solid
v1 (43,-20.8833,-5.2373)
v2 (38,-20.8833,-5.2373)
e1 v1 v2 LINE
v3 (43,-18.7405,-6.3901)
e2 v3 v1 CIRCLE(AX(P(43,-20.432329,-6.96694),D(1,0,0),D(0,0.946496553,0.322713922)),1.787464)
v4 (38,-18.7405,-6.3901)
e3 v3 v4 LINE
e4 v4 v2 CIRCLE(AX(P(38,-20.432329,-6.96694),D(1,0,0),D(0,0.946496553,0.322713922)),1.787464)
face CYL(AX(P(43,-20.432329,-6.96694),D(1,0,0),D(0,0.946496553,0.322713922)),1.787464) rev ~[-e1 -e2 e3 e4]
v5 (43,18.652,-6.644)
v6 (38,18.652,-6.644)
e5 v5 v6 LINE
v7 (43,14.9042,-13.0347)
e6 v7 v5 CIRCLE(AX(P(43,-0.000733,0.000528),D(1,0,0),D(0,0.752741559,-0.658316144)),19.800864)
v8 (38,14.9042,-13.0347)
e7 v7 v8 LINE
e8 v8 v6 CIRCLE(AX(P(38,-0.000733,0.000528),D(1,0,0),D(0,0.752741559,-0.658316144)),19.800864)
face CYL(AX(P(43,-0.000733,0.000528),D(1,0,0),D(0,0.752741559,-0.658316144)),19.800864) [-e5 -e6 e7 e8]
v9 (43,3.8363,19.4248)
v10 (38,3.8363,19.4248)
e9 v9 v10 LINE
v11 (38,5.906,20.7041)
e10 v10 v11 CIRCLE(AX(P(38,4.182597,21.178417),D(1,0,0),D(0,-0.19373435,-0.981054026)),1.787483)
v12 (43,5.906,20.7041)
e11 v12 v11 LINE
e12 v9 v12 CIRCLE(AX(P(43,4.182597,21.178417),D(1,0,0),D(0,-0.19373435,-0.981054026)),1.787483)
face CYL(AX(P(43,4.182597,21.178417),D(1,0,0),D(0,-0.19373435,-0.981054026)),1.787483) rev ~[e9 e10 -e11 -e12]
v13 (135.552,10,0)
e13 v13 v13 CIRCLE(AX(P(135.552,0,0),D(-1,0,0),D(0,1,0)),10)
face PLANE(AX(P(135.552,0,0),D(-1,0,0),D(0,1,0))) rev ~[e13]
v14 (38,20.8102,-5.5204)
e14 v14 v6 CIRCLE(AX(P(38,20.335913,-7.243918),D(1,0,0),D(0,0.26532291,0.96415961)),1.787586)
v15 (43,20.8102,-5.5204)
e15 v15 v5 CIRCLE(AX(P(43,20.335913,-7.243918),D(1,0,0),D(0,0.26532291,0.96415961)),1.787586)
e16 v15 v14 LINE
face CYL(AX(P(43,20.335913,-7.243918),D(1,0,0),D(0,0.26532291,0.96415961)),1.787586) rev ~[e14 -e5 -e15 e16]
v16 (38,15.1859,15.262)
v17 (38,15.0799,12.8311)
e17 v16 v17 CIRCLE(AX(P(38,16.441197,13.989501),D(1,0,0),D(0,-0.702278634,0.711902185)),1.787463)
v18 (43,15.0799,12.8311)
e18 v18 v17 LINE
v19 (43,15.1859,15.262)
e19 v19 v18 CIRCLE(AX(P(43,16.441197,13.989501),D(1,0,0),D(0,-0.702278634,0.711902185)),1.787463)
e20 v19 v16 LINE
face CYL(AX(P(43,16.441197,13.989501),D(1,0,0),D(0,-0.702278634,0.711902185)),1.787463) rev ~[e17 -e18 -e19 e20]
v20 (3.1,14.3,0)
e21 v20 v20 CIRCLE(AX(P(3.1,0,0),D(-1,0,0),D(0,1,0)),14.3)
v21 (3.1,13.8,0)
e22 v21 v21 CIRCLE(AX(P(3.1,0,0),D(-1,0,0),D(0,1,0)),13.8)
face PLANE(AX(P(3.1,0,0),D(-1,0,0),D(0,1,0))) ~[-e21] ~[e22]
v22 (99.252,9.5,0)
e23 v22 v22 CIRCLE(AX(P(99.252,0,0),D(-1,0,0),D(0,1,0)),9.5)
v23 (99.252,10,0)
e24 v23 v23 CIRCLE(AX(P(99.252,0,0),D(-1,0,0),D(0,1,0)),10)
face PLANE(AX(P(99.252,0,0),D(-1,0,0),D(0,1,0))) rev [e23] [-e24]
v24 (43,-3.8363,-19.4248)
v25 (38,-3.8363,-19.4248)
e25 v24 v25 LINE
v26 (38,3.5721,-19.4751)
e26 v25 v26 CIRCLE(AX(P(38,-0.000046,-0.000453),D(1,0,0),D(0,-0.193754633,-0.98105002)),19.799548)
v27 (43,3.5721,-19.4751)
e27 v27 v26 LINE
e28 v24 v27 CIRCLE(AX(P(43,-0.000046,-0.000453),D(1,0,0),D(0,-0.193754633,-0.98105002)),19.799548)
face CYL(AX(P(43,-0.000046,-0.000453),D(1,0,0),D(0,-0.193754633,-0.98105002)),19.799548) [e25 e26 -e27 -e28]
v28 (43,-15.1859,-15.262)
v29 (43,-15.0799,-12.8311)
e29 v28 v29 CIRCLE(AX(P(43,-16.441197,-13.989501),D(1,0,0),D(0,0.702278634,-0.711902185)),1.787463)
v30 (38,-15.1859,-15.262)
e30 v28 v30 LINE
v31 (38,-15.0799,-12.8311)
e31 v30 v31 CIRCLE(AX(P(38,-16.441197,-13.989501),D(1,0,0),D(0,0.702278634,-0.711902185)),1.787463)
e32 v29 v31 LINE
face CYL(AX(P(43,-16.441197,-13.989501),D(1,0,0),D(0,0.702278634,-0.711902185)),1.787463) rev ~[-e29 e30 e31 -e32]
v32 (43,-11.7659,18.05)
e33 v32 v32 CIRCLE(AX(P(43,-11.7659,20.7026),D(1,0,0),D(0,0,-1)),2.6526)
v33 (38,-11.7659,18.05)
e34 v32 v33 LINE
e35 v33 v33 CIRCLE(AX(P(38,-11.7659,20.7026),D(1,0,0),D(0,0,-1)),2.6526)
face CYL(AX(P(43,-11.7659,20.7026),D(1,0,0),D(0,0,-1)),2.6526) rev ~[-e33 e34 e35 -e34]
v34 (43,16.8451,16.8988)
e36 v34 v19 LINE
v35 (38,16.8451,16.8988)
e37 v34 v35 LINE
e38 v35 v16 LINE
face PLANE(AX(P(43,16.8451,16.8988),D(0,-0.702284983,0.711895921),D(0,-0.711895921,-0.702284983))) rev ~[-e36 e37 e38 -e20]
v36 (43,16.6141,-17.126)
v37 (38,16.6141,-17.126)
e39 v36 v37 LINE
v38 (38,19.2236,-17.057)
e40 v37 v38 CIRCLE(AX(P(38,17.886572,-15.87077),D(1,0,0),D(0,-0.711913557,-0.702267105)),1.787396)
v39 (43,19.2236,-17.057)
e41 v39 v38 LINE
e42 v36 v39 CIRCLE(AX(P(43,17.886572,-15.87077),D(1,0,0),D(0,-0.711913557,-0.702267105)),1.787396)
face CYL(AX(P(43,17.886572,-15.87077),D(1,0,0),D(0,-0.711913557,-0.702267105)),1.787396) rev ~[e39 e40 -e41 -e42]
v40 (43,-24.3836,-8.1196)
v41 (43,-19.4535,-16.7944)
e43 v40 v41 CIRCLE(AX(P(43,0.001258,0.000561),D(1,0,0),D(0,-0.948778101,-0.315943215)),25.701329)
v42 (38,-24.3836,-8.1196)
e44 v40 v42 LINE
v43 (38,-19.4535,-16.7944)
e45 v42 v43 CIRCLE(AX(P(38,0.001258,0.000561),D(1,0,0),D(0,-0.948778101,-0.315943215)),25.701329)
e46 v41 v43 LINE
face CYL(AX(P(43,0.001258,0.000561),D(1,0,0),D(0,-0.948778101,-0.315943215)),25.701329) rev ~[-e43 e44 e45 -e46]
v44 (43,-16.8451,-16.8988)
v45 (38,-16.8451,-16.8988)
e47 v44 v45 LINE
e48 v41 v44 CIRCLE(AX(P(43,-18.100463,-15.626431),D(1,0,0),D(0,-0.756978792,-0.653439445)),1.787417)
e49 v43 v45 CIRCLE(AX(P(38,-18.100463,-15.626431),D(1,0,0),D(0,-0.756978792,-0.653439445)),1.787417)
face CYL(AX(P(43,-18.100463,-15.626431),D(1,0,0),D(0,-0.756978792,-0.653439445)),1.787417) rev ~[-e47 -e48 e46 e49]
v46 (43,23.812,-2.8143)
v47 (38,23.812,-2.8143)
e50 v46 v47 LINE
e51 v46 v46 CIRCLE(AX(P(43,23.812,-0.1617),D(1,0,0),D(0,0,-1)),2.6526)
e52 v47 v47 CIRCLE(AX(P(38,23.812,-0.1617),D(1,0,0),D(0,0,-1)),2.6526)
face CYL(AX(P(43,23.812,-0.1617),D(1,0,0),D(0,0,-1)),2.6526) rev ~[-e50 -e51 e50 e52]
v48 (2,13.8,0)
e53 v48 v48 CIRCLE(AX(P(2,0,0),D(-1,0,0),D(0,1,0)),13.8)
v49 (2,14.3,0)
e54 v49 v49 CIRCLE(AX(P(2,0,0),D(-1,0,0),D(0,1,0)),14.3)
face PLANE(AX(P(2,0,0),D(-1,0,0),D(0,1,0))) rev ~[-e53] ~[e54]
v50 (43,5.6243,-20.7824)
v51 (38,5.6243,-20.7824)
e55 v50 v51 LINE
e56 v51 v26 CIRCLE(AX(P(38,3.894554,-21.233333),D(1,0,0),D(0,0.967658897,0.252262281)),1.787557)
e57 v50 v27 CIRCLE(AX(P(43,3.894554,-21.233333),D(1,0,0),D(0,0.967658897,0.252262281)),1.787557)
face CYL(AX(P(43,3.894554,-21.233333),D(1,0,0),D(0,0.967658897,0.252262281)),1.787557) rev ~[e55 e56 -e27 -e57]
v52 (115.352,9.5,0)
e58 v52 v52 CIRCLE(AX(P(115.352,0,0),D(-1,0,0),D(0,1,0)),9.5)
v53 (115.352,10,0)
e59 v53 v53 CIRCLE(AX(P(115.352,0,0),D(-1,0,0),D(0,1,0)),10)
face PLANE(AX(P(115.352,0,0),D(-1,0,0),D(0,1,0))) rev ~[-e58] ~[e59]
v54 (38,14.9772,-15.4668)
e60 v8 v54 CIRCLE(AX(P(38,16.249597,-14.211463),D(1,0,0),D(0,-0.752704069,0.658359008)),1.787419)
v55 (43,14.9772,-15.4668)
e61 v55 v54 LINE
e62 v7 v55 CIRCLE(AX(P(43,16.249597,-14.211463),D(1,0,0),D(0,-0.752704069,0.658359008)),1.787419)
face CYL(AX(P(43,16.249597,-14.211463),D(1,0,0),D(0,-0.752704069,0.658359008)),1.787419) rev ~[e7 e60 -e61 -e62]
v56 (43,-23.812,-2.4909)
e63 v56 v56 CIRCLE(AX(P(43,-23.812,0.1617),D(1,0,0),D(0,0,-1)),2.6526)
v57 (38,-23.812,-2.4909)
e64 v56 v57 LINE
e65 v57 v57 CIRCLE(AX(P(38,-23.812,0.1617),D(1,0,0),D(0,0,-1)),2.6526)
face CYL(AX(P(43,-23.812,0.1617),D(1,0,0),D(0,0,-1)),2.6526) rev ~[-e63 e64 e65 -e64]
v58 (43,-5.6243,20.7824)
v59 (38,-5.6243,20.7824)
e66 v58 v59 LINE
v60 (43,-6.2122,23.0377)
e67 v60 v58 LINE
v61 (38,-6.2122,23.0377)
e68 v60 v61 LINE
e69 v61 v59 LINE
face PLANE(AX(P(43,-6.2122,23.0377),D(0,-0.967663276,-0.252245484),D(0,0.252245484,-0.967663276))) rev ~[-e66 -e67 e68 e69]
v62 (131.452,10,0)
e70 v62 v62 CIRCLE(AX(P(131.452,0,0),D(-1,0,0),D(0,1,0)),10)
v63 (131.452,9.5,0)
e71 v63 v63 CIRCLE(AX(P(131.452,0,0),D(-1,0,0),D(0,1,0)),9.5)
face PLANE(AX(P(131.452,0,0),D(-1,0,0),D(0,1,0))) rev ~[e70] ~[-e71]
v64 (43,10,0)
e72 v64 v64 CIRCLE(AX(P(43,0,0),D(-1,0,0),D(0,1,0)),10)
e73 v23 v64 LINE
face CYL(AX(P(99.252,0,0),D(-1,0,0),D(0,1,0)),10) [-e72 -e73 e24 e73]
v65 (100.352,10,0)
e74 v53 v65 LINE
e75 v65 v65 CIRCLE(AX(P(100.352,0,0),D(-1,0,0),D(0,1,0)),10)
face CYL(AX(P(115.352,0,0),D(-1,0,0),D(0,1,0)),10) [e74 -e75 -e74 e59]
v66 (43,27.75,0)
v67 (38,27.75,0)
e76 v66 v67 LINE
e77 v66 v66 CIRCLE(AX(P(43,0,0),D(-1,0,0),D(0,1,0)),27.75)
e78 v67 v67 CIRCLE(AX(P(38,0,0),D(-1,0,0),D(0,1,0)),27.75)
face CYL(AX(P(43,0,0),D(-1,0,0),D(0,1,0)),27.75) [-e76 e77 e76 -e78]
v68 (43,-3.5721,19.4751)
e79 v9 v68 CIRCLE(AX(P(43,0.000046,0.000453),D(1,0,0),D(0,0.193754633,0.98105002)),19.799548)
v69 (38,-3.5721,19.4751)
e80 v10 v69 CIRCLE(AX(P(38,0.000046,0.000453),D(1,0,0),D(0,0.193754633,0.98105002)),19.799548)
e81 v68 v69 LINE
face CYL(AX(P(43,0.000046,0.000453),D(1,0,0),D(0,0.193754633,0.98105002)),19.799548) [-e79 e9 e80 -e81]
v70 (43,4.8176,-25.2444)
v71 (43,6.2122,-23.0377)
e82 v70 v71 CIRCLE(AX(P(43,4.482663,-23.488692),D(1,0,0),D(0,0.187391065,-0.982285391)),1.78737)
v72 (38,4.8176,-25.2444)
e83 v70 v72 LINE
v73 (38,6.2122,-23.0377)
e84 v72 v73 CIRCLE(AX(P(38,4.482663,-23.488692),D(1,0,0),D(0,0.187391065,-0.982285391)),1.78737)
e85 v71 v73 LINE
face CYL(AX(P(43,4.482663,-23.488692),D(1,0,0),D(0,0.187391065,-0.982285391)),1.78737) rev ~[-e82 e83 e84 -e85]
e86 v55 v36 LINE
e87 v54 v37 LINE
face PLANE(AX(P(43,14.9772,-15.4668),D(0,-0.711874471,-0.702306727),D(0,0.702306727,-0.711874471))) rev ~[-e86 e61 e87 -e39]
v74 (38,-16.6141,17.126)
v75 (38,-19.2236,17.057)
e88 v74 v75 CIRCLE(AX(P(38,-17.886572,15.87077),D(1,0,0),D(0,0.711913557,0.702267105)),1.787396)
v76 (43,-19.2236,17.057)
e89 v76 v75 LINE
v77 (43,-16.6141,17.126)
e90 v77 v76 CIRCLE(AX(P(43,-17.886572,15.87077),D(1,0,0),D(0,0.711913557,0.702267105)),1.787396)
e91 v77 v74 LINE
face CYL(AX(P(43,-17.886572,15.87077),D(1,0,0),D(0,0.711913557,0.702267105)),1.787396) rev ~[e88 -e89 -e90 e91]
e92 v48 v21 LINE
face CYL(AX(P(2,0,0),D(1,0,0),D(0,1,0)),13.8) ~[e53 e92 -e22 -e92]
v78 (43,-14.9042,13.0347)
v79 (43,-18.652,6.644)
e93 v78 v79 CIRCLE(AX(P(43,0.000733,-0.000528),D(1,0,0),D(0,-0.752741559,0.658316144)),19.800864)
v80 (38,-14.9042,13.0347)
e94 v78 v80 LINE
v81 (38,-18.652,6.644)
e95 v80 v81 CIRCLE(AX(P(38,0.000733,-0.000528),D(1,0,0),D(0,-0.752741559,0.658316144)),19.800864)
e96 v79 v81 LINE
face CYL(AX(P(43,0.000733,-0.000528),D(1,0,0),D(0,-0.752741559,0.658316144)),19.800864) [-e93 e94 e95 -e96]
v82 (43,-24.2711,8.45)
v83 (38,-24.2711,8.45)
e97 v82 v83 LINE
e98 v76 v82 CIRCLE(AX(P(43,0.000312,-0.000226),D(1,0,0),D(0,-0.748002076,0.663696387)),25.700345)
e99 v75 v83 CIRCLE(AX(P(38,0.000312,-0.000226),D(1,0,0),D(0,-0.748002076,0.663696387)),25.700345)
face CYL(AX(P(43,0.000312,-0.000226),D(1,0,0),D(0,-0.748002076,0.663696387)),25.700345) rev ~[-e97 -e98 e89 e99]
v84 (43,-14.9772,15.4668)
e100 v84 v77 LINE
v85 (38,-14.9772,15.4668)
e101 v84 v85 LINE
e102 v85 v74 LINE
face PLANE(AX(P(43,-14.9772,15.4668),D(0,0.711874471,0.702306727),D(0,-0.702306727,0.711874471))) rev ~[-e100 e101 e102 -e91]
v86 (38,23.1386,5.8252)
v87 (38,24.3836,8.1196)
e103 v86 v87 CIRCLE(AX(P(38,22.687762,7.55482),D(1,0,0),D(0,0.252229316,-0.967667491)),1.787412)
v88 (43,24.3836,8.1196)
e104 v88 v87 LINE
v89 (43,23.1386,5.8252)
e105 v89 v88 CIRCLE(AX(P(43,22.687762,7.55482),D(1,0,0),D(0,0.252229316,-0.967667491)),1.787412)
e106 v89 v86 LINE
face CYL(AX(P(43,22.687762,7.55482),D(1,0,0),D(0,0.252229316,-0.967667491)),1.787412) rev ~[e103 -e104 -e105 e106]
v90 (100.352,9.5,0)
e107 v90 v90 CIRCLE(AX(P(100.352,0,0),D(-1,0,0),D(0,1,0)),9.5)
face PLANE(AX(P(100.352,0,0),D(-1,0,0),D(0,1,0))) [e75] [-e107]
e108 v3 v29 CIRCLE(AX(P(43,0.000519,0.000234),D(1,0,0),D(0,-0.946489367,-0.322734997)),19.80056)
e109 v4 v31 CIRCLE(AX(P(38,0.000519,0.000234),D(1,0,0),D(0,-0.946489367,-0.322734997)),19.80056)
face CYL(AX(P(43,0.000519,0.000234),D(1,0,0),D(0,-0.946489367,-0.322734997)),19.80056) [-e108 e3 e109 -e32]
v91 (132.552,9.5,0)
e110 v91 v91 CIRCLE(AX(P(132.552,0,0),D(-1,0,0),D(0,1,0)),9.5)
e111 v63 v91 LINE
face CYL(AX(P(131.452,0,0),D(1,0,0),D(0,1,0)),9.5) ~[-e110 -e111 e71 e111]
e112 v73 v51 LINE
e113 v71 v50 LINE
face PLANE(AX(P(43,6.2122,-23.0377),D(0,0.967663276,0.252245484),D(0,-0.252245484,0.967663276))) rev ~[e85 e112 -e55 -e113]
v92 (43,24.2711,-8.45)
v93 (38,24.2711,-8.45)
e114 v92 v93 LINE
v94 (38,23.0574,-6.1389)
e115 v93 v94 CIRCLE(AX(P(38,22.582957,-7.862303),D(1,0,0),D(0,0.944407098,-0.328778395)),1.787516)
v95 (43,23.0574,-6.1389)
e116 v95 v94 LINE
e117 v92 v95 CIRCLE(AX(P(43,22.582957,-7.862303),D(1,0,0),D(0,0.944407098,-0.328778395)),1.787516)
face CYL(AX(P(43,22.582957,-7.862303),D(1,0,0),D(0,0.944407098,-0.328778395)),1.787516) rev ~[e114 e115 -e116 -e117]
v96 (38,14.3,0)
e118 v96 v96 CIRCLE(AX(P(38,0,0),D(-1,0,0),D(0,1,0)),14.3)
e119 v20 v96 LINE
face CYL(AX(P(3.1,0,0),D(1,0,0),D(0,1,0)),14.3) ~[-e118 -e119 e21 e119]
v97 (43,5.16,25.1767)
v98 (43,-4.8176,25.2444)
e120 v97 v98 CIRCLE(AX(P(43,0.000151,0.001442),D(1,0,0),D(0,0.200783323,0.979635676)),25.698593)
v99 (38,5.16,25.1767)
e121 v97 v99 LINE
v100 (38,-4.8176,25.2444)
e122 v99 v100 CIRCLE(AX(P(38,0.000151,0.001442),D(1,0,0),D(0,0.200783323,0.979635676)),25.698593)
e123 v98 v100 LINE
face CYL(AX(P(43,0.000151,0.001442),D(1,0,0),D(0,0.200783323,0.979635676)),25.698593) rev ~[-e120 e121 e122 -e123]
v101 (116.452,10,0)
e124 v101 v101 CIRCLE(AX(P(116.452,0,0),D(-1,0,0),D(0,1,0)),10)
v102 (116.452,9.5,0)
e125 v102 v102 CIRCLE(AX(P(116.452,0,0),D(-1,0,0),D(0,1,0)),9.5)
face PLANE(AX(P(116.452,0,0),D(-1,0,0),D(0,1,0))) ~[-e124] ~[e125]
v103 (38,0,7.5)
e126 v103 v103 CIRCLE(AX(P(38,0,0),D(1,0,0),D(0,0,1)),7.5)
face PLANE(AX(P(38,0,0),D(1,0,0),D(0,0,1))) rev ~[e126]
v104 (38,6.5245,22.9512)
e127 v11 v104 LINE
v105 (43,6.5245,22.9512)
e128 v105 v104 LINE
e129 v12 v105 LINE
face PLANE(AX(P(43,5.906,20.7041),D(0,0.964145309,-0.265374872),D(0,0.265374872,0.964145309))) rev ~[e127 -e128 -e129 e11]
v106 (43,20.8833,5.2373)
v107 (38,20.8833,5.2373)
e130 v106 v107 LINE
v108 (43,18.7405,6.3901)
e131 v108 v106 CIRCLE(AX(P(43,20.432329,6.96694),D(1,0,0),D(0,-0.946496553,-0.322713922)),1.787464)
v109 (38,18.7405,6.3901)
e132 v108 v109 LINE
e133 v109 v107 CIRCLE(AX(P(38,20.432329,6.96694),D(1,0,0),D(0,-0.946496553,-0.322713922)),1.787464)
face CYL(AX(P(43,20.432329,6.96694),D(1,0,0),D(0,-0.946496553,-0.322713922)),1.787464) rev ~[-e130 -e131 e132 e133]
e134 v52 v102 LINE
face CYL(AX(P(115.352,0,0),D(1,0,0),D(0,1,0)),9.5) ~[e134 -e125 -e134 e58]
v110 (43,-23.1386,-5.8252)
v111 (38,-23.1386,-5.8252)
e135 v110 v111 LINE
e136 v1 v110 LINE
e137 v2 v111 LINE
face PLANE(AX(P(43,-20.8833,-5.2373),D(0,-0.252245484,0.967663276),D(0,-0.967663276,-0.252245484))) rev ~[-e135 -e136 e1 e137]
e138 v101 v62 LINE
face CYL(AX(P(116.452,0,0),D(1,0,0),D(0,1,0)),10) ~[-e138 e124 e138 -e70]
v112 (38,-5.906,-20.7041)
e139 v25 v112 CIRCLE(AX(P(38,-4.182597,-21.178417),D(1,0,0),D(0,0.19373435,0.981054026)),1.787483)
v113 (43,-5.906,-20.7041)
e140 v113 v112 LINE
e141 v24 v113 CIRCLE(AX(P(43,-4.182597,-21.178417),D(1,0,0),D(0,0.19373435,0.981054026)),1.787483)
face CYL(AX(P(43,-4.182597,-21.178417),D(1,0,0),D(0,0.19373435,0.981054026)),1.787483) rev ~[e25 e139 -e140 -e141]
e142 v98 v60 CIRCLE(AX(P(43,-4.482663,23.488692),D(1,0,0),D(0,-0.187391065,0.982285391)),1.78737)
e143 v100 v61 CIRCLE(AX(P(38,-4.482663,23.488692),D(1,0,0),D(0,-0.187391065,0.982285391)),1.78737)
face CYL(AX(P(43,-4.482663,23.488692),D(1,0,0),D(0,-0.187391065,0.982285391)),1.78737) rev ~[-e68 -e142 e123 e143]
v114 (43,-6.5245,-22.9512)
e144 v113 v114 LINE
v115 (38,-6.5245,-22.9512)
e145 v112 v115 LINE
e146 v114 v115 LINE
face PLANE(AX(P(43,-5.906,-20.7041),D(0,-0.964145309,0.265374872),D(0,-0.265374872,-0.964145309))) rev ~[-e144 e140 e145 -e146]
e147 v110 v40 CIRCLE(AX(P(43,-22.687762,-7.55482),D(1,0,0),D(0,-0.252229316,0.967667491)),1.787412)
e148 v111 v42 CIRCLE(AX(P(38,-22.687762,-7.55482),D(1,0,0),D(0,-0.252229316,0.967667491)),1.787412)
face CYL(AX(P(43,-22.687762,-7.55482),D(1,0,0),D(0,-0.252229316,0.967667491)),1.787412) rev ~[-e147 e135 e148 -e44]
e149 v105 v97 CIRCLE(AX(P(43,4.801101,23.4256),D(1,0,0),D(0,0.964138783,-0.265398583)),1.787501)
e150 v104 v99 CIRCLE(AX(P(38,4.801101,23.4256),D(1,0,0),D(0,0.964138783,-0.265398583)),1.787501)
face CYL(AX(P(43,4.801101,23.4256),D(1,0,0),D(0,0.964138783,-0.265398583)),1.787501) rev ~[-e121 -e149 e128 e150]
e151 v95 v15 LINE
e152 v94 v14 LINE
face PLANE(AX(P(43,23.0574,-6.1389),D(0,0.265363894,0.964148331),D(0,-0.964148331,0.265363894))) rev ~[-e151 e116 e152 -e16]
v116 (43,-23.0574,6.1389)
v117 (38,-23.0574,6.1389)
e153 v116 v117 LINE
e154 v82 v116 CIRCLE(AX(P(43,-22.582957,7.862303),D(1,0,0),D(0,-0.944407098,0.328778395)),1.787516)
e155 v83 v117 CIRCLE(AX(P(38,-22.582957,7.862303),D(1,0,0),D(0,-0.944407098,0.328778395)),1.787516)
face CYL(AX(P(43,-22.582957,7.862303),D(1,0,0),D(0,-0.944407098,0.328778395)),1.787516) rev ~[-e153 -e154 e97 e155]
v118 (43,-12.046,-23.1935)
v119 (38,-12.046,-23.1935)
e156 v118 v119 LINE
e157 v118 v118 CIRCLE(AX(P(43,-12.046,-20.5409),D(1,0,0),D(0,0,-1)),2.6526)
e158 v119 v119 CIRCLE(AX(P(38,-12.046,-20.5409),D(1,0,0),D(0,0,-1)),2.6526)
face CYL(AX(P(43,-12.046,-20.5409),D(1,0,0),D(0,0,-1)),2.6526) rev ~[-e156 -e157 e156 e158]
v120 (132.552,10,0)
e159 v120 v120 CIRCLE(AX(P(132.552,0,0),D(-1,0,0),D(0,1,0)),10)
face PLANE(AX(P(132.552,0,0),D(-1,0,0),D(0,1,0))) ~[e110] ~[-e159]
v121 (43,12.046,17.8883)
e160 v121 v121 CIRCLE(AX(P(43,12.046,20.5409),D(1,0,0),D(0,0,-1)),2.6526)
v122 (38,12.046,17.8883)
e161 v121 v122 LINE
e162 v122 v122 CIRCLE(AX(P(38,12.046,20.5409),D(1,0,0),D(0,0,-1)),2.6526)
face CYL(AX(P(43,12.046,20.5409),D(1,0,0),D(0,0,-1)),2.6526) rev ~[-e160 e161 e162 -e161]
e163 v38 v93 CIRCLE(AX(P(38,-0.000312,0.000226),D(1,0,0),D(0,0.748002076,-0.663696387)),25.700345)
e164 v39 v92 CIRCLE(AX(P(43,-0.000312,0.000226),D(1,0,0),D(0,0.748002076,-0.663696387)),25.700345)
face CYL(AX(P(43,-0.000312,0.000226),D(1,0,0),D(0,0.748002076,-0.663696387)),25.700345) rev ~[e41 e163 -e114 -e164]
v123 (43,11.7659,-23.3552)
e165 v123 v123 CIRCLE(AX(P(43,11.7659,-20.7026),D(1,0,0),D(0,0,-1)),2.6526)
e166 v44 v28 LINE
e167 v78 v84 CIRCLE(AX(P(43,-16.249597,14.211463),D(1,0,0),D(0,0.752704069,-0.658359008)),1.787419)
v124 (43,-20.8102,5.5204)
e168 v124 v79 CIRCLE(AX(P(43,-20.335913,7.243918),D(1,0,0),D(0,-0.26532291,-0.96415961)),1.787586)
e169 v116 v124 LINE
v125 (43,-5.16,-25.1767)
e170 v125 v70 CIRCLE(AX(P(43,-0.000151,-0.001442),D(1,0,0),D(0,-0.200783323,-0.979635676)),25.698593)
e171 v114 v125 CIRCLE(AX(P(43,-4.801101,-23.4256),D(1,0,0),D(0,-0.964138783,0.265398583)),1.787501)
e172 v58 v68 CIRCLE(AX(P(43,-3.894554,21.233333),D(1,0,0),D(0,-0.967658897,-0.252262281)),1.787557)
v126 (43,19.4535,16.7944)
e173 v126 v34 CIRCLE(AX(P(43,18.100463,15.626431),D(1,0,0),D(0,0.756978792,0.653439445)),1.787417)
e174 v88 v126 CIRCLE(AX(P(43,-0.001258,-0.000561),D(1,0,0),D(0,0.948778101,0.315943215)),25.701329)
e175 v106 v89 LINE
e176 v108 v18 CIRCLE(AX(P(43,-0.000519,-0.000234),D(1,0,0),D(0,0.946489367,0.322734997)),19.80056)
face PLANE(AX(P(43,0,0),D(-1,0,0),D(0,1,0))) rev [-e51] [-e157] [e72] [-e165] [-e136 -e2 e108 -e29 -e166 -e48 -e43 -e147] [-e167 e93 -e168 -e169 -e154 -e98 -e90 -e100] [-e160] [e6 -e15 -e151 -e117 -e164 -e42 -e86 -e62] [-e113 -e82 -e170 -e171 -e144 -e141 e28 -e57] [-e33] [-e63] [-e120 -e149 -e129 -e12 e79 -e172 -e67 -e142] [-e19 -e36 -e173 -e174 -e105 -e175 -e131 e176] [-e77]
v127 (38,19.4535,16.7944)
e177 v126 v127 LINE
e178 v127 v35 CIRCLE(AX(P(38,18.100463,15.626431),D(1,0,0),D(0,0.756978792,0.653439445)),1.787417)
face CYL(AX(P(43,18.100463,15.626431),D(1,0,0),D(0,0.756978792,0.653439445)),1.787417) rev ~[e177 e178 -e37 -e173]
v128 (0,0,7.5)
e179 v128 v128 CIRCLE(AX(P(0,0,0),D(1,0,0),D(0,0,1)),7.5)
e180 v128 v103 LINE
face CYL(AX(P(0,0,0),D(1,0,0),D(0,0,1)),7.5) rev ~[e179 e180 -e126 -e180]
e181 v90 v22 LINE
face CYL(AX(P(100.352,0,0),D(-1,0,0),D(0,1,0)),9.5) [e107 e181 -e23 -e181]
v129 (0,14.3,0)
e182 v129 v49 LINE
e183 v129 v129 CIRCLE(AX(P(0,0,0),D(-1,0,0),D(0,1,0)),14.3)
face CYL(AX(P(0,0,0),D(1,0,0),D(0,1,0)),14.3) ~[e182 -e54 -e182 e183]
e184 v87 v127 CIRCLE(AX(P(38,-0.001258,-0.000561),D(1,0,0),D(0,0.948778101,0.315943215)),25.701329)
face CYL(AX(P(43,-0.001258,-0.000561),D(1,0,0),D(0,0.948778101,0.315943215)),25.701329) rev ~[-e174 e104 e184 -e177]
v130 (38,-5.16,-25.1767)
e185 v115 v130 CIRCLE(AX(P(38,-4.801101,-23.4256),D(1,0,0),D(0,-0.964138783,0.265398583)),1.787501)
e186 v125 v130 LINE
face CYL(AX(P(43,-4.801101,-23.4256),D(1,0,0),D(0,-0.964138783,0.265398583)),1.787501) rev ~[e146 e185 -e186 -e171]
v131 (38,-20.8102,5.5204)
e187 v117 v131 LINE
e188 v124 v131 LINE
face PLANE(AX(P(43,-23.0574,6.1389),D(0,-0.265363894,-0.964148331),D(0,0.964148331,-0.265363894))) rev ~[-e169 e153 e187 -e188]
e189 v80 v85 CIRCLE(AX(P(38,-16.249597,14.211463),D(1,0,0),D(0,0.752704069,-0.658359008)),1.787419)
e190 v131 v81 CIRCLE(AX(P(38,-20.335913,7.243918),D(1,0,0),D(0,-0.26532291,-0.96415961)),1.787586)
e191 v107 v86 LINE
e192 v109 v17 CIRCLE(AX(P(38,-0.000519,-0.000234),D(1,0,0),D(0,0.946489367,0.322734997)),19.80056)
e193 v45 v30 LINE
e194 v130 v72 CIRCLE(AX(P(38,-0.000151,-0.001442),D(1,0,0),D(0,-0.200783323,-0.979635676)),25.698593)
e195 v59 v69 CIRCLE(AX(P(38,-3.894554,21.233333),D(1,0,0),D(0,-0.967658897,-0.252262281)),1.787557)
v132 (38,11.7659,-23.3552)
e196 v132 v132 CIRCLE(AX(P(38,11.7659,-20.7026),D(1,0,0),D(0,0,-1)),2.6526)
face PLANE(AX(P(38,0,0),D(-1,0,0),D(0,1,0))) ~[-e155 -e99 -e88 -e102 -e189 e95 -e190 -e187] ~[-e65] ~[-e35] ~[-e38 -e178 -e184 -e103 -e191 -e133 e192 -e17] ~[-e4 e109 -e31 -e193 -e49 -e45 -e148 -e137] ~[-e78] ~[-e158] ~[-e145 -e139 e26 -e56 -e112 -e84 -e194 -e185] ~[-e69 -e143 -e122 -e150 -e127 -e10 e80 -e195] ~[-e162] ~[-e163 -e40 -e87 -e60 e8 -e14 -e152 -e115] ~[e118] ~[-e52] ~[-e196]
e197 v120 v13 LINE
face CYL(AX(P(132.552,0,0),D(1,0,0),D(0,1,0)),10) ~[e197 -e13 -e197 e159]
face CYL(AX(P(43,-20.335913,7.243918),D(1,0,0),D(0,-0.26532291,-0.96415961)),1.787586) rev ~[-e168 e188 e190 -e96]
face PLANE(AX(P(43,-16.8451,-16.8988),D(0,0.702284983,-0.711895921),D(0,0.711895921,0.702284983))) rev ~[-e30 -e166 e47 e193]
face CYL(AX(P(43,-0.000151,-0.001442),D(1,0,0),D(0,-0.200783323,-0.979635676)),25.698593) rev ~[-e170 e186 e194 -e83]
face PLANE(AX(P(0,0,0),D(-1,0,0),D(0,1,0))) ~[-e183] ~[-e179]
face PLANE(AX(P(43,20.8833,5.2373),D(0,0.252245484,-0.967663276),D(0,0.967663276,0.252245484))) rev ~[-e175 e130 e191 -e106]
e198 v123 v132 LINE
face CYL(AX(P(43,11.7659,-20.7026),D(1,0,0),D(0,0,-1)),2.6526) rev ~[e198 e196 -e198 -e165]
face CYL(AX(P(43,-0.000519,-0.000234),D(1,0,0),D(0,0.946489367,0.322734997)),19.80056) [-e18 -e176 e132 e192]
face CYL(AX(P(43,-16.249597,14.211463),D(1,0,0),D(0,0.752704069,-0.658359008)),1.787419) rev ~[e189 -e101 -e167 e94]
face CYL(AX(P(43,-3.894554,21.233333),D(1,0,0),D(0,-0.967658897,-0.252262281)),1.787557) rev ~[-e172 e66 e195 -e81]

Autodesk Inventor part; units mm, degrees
ref_plane "YZ Plane" through (0, 0, 0) normal (1, 0, 0) x (0, 1, 0)
ref_plane "XZ Plane" through (0, 0, 0) normal (0, 1, 0) x (-1, 0, 0)
ref_plane "XY Plane" through (0, 0, 0) normal (0, 0, 1) x (1, 0, 0)
sketch "Sketch1" plane through (0, 0, 0) normal (0, 0, 1) x (1, 0, 0)
  line L0 (0, 0) -> (0, 14.3)
  line L1 (115.352, 10) -> (115.352, 9.5)
  line L2 (115.352, 9.5) -> (116.452, 9.5)
  line L3 (116.452, 9.5) -> (116.452, 10)
  line L4 (116.452, 10) -> (131.452, 10)
  line L5 (131.452, 10) -> (131.452, 9.5)
  line L6 (131.452, 9.5) -> (132.552, 9.5)
  line L7 (132.552, 9.5) -> (132.552, 10)
  line L8 (132.552, 10) -> (135.552, 10)
  line L9 (135.552, 10) -> (135.552, 0)
  line L10 (135.552, 0) -> (0, 0)
  line L11 (43, 10) -> (43, 27.75)
  line L12 (43, 27.75) -> (38, 27.75)
  line L13 (0, 14.3) -> (2, 14.3)
  line L14 (2, 14.3) -> (2, 13.8)
  line L15 (2, 13.8) -> (3.1, 13.8)
  line L16 (3.1, 13.8) -> (3.1, 14.3)
  line L17 (3.1, 14.3) -> (38, 14.3)
  line L18 (38, 14.3) -> (38, 27.75)
  line L19 (115.352, 10) -> (100.352, 10)
  line L20 (100.352, 10) -> (100.352, 9.5)
  line L21 (100.352, 9.5) -> (99.252, 9.5)
  line L22 (99.252, 9.5) -> (99.252, 10)
  line L23 (99.252, 10) -> (43, 10)
  dimension "d3" = 1.1
  dimension "d5" = 1.1
  dimension "d6" = 10
  dimension "d8" = 5
  dimension "d9" = 72.352
  dimension "d10" = 27.75
  dimension "d12" = 3
  dimension "d15" = 1.1
  dimension "d16" = 0.5
  dimension "d17" = 2
  dimension "d18" = 34.9
  dimension "d19" = 14.3
  dimension "d20" = 0.5
  dimension "d21" = 0.5
  dimension "d22" = 0.5
  dimension "d23" = 15
  dimension "d39" = 1.1
  dimension "d40" = 0.5
  dimension "d41" = 15
revolve "Revolution1" add sketch "Sketch1" angle 360 about axis through (135.552, 0, 0) along (-1, 0, 0)
sketch "Sketch2" plane through (43, 0, 0) normal (1, 0, 0) x (0, 0, -1)
  arc A0 (19.9153, -3.9332) -> (19.9669, 3.6623) centre (0, 0) ccw projected
  arc A1 (20.9085, 5.1405) -> (19.9669, 3.6623) centre (21.2333, 3.8946) ccw projected
  line L0 (20.9085, 5.1405) -> (23.1638, 5.7284) projected
  arc A2 (24.7533, 4.7239) -> (23.1638, 5.7284) centre (23.4886, 4.4826) ccw projected
  arc A3 (24.6868, -5.0596) -> (24.7533, 4.7239) centre (0, 0) ccw projected
  arc A4 (23.0839, -6.0425) -> (24.6868, -5.0596) centre (23.4256, -4.8011) ccw projected
  line L1 (23.0839, -6.0425) -> (20.8368, -5.424) construction
  arc A5 (19.9153, -3.9332) -> (20.8368, -5.424) centre (21.1784, -4.1826) ccw projected
  circle A6 centre (20.5409, -12.046) radius 2.1526 construction
  arc A7 (25.2444, 4.8176) -> (23.0377, 6.2122) centre (23.4886, 4.4826) ccw
  line L2 (23.0377, 6.2122) -> (20.7824, 5.6243)
  arc A8 (20.7824, 5.6243) -> (19.4751, 3.5721) centre (21.2333, 3.8946) ccw
  arc A9 (19.4248, -3.8363) -> (19.4751, 3.5721) centre (0, 0) ccw
  arc A10 (19.4248, -3.8363) -> (20.7041, -5.906) centre (21.1784, -4.1826) ccw
  line L3 (20.7041, -5.906) -> (22.9512, -6.5245)
  arc A11 (22.9512, -6.5245) -> (25.1767, -5.16) centre (23.4256, -4.8011) ccw
  arc A12 (25.1767, -5.16) -> (25.2444, 4.8176) centre (0, 0) ccw
  circle A13 centre (20.5409, -12.046) radius 2.6526
  arc A14 (17.126, 16.6141) -> (17.057, 19.2236) centre (15.8707, 17.8866) ccw
  line L4 (15.4668, 14.9772) -> (17.126, 16.6141)
  arc A15 (13.0347, 14.9042) -> (15.4668, 14.9772) centre (14.2115, 16.2497) ccw
  arc A16 (13.0347, 14.9042) -> (6.644, 18.652) centre (0, 0) ccw
  arc A17 (5.5204, 20.8102) -> (6.644, 18.652) centre (7.2438, 20.3359) ccw
  line L5 (6.1389, 23.0574) -> (5.5204, 20.8102)
  arc A18 (8.45, 24.2711) -> (6.1389, 23.0574) centre (7.8623, 22.583) ccw
  arc A19 (17.057, 19.2236) -> (8.45, 24.2711) centre (0, 0) ccw
  circle A20 centre (20.7026, 11.7659) radius 2.6526
  arc A21 (-5.8252, 23.1386) -> (-8.1196, 24.3836) centre (-7.5549, 22.6877) ccw
  line L6 (-5.2373, 20.8833) -> (-5.8252, 23.1386)
  arc A22 (-6.3901, 18.7405) -> (-5.2373, 20.8833) centre (-6.967, 20.4324) ccw
  arc A23 (-6.3901, 18.7405) -> (-12.8311, 15.0799) centre (0, 0) ccw
  arc A24 (-15.262, 15.1859) -> (-12.8311, 15.0799) centre (-13.9895, 16.4412) ccw
  line L7 (-16.8988, 16.8451) -> (-15.262, 15.1859)
  arc A25 (-16.7944, 19.4535) -> (-16.8988, 16.8451) centre (-15.6263, 18.1004) ccw
  arc A26 (-8.1196, 24.3836) -> (-16.7944, 19.4535) centre (0, 0) ccw
  circle A27 centre (0.1617, 23.812) radius 2.6526
  arc A28 (-22.9512, 6.5245) -> (-25.1767, 5.16) centre (-23.4256, 4.8011) ccw
  line L8 (-20.7041, 5.906) -> (-22.9512, 6.5245)
  arc A29 (-19.4248, 3.8363) -> (-20.7041, 5.906) centre (-21.1784, 4.1826) ccw
  arc A30 (-19.4248, 3.8363) -> (-19.4751, -3.5721) centre (0, 0) ccw
  arc A31 (-20.7824, -5.6243) -> (-19.4751, -3.5721) centre (-21.2333, -3.8946) ccw
  line L9 (-23.0377, -6.2122) -> (-20.7824, -5.6243)
  arc A32 (-25.2444, -4.8176) -> (-23.0377, -6.2122) centre (-23.4886, -4.4826) ccw
  arc A33 (-25.1767, 5.16) -> (-25.2444, -4.8176) centre (0, 0) ccw
  circle A34 centre (-20.5409, 12.046) radius 2.6526
  arc A35 (-17.126, -16.6141) -> (-17.057, -19.2236) centre (-15.8707, -17.8866) ccw
  line L10 (-15.4668, -14.9772) -> (-17.126, -16.6141)
  arc A36 (-13.0347, -14.9042) -> (-15.4668, -14.9772) centre (-14.2115, -16.2497) ccw
  arc A37 (-13.0347, -14.9042) -> (-6.644, -18.652) centre (0, 0) ccw
  arc A38 (-5.5204, -20.8102) -> (-6.644, -18.652) centre (-7.2438, -20.3359) ccw
  line L11 (-6.1389, -23.0574) -> (-5.5204, -20.8102)
  arc A39 (-8.45, -24.2711) -> (-6.1389, -23.0574) centre (-7.8623, -22.583) ccw
  arc A40 (-17.057, -19.2236) -> (-8.45, -24.2711) centre (0, 0) ccw
  circle A41 centre (-20.7026, -11.7659) radius 2.6526
  arc A42 (5.8252, -23.1386) -> (8.1196, -24.3836) centre (7.5549, -22.6877) ccw
  line L12 (5.2373, -20.8833) -> (5.8252, -23.1386)
  arc A43 (6.3901, -18.7405) -> (5.2373, -20.8833) centre (6.967, -20.4324) ccw
  arc A44 (6.3901, -18.7405) -> (12.8311, -15.0799) centre (0, 0) ccw
  arc A45 (15.262, -15.1859) -> (12.8311, -15.0799) centre (13.9895, -16.4412) ccw
  line L13 (16.8988, -16.8451) -> (15.262, -15.1859)
  arc A46 (16.7944, -19.4535) -> (16.8988, -16.8451) centre (15.6263, -18.1004) ccw
  arc A47 (8.1196, -24.3836) -> (16.7944, -19.4535) centre (0, 0) ccw
  circle A48 centre (-0.1617, -23.812) radius 2.6526
  point P0 (0, 0)
  dimension "d24" = 0.5
  dimension "d25" = 0.5
  dimension "d28" = 360
extrude "Extrusion1" cut sketch "Sketch2" against normal through all
sketch "Sketch3" plane through (0, 0, 0) normal (-1, 0, 0) x (0, 0, 1)
  circle A0 centre (0, 0) radius 14.3 projected
  point P0 (0, 0)
  point P1 (0, 0)
hole "Hole1" at (0, 0, 0) direction (1, 0, 0) diameter 15 depth 38
properties part number "Center Axle" material "Steel, Mild"
